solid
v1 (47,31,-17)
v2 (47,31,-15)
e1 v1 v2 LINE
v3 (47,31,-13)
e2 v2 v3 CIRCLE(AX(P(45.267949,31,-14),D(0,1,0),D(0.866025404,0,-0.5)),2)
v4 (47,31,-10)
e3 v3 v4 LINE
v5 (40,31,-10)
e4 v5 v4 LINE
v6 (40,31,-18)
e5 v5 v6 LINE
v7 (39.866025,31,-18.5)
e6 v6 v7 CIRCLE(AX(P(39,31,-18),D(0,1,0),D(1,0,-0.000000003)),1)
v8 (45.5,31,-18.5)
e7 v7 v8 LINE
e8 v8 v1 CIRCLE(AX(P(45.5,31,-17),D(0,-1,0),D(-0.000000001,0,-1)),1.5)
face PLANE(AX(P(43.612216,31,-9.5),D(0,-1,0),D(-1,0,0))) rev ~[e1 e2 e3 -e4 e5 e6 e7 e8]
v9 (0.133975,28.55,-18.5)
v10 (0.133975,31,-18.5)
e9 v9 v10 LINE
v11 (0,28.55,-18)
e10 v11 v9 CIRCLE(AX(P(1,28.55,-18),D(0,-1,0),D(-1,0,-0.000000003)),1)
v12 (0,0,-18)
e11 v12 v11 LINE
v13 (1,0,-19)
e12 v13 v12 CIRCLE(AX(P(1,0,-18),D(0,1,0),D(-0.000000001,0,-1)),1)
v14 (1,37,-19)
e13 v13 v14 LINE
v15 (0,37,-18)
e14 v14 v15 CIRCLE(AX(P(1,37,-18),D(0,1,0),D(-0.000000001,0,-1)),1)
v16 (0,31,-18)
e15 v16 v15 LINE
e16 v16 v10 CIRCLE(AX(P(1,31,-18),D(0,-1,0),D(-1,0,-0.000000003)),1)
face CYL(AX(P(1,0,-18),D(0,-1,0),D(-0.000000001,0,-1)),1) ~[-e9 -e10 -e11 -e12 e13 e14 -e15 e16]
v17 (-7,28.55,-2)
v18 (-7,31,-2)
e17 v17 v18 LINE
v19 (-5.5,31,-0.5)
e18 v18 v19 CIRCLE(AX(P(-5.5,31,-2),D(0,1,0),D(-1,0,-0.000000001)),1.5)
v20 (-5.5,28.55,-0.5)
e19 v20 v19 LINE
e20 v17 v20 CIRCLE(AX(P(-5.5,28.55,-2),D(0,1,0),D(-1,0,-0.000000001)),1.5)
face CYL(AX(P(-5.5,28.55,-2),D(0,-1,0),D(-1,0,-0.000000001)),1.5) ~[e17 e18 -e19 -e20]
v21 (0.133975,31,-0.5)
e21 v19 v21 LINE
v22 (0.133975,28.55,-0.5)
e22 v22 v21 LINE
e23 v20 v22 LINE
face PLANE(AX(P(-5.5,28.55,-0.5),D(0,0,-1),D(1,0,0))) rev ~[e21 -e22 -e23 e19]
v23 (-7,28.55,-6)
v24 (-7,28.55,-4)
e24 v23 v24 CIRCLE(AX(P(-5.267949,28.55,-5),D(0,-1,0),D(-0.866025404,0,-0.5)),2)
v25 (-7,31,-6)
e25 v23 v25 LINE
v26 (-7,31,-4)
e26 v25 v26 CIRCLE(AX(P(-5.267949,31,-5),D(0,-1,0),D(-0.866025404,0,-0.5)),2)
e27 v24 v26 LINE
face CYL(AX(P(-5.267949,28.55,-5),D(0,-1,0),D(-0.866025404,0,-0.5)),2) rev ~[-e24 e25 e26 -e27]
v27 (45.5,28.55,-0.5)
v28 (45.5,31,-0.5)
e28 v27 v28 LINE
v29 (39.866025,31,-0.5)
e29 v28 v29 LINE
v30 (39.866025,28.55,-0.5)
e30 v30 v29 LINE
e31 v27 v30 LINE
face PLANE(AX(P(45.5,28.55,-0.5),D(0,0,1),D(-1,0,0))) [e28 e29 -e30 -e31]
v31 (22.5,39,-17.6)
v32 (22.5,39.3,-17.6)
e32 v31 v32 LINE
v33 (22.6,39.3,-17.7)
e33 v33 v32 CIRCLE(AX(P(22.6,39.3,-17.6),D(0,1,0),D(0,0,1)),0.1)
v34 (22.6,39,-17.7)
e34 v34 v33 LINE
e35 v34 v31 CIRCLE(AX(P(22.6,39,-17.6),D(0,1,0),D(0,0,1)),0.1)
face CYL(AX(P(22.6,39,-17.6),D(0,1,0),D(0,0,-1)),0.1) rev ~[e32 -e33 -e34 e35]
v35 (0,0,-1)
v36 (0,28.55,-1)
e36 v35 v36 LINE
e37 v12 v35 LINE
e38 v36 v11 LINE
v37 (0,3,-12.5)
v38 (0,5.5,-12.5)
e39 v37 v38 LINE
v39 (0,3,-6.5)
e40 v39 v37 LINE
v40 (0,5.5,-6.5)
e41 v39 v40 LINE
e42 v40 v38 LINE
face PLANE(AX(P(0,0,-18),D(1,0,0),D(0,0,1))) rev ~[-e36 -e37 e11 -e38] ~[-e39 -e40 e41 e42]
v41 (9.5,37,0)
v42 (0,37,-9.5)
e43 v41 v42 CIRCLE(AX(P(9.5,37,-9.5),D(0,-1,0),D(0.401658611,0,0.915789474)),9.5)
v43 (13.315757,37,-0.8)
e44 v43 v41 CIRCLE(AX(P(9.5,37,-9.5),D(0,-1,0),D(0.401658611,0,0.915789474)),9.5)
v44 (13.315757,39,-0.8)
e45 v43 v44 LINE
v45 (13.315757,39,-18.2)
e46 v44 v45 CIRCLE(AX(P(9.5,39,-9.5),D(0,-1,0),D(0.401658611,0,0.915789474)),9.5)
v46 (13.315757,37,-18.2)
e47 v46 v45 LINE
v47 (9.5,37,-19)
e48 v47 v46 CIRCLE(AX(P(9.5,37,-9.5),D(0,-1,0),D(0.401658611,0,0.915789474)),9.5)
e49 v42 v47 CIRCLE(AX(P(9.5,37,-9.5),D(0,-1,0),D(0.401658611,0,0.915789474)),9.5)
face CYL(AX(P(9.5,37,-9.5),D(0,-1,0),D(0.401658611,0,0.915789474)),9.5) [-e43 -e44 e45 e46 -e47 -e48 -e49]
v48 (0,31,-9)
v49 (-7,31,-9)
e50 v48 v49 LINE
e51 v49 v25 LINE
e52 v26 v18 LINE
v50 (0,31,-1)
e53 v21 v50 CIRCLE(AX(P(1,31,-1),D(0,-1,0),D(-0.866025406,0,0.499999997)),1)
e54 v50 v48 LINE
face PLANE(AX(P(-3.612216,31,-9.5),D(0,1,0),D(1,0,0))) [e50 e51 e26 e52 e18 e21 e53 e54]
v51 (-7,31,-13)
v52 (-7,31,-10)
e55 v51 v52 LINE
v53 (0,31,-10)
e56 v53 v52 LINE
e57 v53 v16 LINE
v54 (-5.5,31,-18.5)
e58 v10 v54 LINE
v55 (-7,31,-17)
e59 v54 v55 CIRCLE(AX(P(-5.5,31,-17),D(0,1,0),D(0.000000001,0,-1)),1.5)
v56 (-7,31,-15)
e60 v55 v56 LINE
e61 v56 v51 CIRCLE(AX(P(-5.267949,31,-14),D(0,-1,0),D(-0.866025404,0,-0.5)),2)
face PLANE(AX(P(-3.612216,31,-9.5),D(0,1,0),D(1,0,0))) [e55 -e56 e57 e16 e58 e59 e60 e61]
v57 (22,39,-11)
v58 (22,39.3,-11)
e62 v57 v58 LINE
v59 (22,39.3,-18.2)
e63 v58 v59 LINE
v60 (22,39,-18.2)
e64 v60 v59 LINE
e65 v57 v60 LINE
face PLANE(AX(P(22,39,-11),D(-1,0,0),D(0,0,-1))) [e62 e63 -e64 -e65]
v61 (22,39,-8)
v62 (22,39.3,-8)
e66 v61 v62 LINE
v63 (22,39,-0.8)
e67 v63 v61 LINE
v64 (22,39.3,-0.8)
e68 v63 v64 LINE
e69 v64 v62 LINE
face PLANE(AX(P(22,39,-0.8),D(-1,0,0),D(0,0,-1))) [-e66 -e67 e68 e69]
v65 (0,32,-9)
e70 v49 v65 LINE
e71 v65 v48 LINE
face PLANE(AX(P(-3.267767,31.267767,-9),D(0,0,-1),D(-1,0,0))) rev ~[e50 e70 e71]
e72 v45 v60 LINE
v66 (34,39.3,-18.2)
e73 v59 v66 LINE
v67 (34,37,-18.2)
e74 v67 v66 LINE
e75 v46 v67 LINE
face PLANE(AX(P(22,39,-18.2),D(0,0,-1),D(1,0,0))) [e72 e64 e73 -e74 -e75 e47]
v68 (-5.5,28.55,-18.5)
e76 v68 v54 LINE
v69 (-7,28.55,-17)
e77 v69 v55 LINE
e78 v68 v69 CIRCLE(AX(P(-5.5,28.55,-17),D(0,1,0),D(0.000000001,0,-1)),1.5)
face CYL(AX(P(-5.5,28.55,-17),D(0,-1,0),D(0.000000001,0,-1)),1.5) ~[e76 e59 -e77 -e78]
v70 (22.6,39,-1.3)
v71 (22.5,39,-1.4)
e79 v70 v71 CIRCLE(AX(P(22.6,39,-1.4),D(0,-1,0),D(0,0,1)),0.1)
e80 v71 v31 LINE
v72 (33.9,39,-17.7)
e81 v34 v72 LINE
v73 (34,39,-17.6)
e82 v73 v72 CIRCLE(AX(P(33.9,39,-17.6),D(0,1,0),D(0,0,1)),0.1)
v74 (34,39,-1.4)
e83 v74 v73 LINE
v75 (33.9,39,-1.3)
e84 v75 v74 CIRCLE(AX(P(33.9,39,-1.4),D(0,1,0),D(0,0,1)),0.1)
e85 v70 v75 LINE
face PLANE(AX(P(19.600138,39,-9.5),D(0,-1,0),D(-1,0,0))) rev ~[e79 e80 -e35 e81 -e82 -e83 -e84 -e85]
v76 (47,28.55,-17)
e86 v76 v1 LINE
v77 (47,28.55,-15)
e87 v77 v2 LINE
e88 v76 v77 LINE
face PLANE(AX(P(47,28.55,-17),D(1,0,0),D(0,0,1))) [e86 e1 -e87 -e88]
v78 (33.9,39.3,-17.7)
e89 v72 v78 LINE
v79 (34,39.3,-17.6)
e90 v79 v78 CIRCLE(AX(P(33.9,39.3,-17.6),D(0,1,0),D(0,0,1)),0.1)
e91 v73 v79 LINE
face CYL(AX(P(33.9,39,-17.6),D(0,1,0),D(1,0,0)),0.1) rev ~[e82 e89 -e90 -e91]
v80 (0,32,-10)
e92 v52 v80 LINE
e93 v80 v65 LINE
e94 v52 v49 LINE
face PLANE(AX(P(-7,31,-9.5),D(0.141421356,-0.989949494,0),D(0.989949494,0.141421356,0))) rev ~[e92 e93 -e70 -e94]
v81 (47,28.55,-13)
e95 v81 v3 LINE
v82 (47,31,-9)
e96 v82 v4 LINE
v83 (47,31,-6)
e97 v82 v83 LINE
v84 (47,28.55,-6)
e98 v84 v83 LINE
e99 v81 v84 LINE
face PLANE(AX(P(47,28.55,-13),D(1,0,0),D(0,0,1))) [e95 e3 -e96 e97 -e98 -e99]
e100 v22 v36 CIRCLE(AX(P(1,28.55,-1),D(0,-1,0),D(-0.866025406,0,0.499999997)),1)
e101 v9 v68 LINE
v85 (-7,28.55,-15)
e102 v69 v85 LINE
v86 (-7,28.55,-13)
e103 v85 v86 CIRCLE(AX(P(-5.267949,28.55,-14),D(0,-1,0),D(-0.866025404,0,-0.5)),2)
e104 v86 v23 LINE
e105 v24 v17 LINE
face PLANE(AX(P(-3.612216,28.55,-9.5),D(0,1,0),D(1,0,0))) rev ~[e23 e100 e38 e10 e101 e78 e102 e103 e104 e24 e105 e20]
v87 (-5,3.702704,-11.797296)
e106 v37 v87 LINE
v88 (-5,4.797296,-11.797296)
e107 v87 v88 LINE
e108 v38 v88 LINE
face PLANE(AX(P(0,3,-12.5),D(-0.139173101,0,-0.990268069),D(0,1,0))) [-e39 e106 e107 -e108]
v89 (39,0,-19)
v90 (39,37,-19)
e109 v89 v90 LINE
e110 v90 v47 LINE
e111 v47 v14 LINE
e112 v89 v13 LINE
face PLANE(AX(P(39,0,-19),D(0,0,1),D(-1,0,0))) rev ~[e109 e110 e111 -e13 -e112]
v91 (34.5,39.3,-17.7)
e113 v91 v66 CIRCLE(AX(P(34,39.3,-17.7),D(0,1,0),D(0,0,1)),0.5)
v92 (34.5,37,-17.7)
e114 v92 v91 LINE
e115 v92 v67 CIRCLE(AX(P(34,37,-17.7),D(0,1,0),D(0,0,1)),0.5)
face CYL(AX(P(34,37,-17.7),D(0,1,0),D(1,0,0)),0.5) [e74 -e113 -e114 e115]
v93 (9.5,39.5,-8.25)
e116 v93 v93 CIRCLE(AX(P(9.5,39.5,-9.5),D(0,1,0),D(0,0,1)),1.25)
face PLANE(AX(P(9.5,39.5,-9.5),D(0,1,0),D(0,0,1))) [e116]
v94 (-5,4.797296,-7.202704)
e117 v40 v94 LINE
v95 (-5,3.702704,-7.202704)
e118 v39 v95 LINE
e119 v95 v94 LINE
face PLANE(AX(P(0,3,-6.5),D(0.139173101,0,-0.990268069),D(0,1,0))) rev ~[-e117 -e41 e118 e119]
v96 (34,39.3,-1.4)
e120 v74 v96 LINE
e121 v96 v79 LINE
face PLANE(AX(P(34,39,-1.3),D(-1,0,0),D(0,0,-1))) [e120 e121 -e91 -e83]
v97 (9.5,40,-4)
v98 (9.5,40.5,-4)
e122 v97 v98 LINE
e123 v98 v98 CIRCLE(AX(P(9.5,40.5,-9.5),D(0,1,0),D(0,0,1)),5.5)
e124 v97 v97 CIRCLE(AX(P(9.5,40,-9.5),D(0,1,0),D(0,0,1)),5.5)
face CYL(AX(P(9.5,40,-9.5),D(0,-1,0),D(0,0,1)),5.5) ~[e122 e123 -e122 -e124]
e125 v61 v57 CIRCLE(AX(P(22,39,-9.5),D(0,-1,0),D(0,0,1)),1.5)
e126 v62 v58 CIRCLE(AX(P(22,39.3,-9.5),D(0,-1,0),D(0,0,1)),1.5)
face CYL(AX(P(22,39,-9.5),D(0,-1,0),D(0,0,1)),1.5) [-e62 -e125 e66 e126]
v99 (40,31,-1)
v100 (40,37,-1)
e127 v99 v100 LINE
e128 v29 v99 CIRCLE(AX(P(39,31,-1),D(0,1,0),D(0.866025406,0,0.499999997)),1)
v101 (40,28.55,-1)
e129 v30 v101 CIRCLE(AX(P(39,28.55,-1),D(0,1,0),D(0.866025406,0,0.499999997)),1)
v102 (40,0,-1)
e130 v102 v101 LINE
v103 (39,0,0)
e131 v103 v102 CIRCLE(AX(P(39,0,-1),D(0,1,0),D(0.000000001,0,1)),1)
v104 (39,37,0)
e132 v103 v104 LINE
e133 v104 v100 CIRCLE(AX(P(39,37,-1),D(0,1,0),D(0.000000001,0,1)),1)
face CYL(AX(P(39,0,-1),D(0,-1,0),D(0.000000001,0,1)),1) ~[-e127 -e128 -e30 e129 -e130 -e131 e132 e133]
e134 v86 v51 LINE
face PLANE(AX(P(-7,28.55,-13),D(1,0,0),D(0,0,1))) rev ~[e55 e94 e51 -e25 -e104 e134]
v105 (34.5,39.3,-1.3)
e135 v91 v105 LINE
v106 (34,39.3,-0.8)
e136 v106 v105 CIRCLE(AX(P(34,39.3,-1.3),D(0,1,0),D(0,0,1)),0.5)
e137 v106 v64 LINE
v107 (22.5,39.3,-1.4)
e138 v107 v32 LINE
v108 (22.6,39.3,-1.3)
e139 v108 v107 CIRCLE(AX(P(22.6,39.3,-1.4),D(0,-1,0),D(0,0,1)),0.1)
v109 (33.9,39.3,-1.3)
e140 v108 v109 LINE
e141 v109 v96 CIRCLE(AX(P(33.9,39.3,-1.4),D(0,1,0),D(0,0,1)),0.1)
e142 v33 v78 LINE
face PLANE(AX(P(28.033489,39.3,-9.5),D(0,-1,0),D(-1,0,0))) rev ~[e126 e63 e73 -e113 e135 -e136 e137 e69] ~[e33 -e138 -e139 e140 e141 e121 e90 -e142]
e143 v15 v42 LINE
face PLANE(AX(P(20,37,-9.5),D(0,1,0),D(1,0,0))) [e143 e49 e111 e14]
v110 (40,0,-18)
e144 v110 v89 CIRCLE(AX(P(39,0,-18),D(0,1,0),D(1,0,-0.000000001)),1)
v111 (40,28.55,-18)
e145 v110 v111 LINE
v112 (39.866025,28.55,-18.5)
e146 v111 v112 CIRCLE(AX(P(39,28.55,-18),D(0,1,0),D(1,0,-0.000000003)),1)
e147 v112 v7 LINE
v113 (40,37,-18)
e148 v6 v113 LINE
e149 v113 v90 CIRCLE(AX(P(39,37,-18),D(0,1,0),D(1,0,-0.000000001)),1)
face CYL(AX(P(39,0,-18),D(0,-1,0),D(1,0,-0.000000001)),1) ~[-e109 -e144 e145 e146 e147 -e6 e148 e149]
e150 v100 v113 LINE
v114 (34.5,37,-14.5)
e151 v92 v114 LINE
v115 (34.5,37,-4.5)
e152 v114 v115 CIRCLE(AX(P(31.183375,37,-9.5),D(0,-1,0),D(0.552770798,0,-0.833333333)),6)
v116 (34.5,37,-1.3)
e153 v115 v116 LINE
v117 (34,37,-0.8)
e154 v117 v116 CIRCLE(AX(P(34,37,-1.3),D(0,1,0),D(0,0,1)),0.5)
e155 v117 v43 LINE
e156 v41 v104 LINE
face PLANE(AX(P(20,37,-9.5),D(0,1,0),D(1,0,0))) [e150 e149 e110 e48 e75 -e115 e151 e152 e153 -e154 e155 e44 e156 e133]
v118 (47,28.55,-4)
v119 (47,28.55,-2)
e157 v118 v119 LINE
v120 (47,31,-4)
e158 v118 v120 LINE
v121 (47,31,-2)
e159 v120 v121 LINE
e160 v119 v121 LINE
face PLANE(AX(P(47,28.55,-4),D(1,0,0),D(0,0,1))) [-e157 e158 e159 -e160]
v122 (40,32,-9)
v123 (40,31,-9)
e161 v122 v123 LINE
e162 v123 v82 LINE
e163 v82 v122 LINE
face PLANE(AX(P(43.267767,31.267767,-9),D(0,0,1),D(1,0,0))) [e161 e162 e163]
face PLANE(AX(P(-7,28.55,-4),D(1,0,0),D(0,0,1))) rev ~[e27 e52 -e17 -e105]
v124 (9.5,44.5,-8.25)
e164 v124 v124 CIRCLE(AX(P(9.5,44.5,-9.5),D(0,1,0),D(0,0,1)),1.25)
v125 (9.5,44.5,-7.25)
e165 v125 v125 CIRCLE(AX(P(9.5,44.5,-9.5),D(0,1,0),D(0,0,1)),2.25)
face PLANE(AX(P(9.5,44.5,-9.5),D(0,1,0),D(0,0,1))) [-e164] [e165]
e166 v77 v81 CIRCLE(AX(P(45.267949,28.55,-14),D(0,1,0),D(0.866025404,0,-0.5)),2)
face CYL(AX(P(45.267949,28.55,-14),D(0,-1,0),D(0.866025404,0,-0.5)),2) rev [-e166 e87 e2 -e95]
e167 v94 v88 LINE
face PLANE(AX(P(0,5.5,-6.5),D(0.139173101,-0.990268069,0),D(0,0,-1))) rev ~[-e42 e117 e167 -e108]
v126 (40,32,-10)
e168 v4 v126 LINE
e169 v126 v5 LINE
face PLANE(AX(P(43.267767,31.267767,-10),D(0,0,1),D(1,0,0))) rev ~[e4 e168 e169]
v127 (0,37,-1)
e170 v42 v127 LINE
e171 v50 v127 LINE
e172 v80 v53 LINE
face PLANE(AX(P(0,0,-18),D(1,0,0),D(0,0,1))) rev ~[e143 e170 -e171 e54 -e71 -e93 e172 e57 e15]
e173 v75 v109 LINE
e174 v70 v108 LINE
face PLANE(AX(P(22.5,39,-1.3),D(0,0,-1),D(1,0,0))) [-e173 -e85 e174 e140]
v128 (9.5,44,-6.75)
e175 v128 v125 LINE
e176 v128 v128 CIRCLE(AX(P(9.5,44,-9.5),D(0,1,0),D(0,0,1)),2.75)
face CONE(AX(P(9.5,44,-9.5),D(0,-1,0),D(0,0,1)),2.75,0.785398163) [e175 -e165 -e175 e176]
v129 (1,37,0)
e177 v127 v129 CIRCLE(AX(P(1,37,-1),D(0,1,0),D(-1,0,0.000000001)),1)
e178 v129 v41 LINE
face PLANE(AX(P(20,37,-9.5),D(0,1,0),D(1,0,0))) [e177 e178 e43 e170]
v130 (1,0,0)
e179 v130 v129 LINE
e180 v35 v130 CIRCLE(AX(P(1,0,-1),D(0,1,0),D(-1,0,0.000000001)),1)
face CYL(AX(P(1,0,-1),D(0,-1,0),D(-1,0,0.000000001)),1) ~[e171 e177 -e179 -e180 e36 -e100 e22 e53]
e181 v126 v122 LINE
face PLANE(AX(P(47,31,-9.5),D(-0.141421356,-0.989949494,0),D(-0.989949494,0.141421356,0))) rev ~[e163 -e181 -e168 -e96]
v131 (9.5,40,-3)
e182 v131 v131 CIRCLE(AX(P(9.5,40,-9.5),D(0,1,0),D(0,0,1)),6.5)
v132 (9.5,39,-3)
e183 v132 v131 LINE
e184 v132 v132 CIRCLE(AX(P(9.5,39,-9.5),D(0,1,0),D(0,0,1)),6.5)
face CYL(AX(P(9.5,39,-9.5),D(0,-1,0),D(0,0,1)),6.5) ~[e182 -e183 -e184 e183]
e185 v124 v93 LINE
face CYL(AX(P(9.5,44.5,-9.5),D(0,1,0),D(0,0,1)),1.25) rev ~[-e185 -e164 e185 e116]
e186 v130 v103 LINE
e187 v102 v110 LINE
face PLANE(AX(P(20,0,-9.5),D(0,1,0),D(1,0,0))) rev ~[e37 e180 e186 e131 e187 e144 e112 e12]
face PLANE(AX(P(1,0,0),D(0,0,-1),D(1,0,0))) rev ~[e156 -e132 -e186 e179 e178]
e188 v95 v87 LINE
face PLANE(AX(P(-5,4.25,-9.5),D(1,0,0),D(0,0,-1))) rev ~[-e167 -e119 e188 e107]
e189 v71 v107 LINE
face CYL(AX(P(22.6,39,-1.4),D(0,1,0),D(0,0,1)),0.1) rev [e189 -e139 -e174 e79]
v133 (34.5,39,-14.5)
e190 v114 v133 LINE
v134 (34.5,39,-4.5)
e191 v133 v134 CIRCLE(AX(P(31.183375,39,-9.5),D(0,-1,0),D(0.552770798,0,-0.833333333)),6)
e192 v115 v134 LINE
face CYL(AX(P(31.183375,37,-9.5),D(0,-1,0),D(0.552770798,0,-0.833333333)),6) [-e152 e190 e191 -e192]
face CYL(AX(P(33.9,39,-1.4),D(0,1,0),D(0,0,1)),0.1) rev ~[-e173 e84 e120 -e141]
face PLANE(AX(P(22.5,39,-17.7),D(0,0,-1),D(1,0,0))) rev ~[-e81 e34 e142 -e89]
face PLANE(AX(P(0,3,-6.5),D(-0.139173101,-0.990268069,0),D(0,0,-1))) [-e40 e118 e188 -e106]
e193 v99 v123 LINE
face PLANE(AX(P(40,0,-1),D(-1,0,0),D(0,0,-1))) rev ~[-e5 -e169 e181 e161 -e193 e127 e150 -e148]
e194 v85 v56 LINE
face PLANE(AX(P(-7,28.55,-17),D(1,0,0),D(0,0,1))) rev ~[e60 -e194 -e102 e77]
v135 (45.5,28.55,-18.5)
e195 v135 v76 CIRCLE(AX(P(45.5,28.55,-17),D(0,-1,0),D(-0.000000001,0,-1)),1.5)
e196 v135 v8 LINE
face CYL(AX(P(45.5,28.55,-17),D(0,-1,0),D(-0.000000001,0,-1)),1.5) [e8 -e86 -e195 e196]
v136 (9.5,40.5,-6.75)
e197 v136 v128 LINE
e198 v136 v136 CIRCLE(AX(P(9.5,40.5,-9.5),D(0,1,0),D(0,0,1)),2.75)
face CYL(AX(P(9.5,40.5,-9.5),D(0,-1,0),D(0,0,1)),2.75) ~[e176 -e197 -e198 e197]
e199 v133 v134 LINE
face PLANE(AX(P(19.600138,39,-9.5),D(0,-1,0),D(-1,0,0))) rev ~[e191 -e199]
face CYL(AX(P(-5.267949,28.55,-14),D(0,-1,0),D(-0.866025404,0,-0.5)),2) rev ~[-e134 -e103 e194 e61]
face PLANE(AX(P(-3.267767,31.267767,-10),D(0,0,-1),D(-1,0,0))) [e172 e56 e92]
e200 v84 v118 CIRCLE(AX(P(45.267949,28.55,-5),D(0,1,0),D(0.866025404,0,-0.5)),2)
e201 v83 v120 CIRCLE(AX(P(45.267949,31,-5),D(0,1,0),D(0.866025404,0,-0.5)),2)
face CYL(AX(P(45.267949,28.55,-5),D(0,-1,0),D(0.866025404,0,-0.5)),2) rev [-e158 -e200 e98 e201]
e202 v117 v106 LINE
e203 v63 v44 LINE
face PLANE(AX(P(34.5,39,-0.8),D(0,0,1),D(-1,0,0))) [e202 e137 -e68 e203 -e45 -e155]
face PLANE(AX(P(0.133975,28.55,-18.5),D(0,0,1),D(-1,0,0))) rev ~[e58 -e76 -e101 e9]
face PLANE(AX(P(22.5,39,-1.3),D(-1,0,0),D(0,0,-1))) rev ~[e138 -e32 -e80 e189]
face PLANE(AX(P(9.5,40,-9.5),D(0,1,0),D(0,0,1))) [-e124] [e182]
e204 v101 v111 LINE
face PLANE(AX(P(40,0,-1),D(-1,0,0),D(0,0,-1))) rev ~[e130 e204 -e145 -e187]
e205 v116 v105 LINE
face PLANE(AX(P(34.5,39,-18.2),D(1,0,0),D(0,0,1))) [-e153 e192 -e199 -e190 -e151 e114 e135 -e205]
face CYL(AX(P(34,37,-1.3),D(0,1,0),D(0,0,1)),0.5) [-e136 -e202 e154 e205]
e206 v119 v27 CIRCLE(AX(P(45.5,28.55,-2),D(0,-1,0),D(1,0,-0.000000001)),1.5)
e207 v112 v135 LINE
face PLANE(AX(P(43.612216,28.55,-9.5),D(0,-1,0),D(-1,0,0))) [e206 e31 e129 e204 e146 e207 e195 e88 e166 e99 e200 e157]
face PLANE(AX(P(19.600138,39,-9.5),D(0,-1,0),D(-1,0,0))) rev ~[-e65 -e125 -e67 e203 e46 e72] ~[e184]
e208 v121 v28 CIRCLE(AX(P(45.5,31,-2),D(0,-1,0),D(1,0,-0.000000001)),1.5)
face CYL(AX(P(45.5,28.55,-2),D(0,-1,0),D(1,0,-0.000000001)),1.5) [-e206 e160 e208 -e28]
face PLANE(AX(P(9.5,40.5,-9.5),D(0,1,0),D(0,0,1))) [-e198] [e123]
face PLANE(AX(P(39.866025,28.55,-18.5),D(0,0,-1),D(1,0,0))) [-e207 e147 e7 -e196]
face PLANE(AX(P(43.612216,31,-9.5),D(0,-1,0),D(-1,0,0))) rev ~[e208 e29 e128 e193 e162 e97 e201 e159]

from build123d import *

# Parameters (mm, degrees)
SALIENTE_EXTRUIR1_DEPTH = 37
SALIENTE_EXTRUIR2_DEPTH = 2
CROQUIS3_R              = 6.5
SALIENTE_EXTRUIR3_DEPTH = 1
CROQUIS4_R              = 5.5
SALIENTE_EXTRUIR4_DEPTH = 0.5
CROQUIS5_R              = 2.75
SALIENTE_EXTRUIR5_DEPTH = 4
CROQUIS7_W              = 11.5
CROQUIS7_H              = 16.4
SALIENTE_EXTRUIR6_DEPTH = 0.3
REDONDEO1_R             = 0.1
REDONDEO2_R             = 0.5
SALIENTE_EXTRUIR7_START = -8.45
SALIENTE_EXTRUIR7_DEPTH = 2.45
SALIENTE_EXTRUIR8_DEPTH = 0.5
CROQUIS11_W             = 6
CROQUIS11_H             = 2.5
SALIENTE_EXTRUIR9_DEPTH = 5
SALIENTE_EXTRUIR9_DRAFT = -8
CROQUIS12_R             = 1.25
CORTAR_EXTRUIR1_DEPTH   = 5
CHAFL_N1_SIZE           = 0.5


with BuildPart() as part:
    # Croquis1 → Saliente-Extruir1 (new body)
    with BuildSketch(Plane(origin=(0, 0, 0), x_dir=(1, 0, 0), z_dir=(0, 1, 0))):
        with BuildLine():
            Line((1, 0), (39, 0))
            ThreePointArc((39, 0), (39.707106781, 0.292893219), (40, 1))
            Line((40, 1), (40, 18))
            ThreePointArc((40, 18), (39.707106781, 18.707106781), (39, 19))
            Line((39, 19), (1, 19))
            ThreePointArc((1, 19), (0.292893219, 18.707106781), (0, 18))
            Line((0, 18), (0, 1))
            ThreePointArc((0, 1), (0.292893219, 0.292893219), (1, 0))
        make_face()
    extrude(amount=SALIENTE_EXTRUIR1_DEPTH)

    # Croquis2 → Saliente-Extruir2 (add)
    with BuildSketch(Plane(origin=(0, 37, 0), x_dir=(1, 0, 0), z_dir=(0, 1, 0))):
        with BuildLine():
            Line((13.315756806, 18.2), (34.5, 18.2))
            Line((34.5, 18.2), (34.5, 14.5))
            ThreePointArc((34.5, 14.5), (37.18337521, 9.5), (34.5, 4.5))
            Line((34.5, 4.5), (34.5, 0.8))
            Line((34.5, 0.8), (13.315756806, 0.8))
            ThreePointArc((13.315756806, 0.8), (0, 9.5), (13.315756806, 18.2))
        make_face()
    extrude(amount=SALIENTE_EXTRUIR2_DEPTH)

    # Croquis3 → Saliente-Extruir3 (add)
    with BuildSketch(Plane(origin=(0, 39, 0), x_dir=(1, 0, 0), z_dir=(0, 1, 0))):
        with Locations(Location((9.5, 9.5, 0), (0, 0, 270))):
            Circle(CROQUIS3_R)
    extrude(amount=SALIENTE_EXTRUIR3_DEPTH)

    # Croquis4 → Saliente-Extruir4 (add)
    with BuildSketch(Plane(origin=(0, 40, 0), x_dir=(1, 0, 0), z_dir=(0, 1, 0))):
        with Locations(Location((9.5, 9.5, 0), (0, 0, 270))):
            Circle(CROQUIS4_R)
    extrude(amount=SALIENTE_EXTRUIR4_DEPTH)

    # Croquis5 → Saliente-Extruir5 (add)
    with BuildSketch(Plane(origin=(0, 40.5, 0), x_dir=(1, 0, 0), z_dir=(0, 1, 0))):
        with Locations(Location((9.5, 9.5, 0), (0, 0, 270))):
            Circle(CROQUIS5_R)
    extrude(amount=SALIENTE_EXTRUIR5_DEPTH)

    # Croquis7 → Saliente-Extruir6 (add)
    with BuildSketch(Plane(origin=(0, 39, 0), x_dir=(1, 0, 0), z_dir=(0, 1, 0))):
        with BuildLine():
            Line((34.5, 0.8), (22, 0.8))
            Line((22, 0.8), (22, 8))
            ThreePointArc((22, 8), (20.5, 9.5), (22, 11))
            Line((22, 11), (22, 18.2))
            Line((22, 18.2), (34.5, 18.2))
            Line((34.5, 18.2), (34.5, 0.8))
        make_face()
        with Locations((28.25, 9.5)):
            Rectangle(CROQUIS7_W, CROQUIS7_H, mode=Mode.SUBTRACT)
    extrude(amount=SALIENTE_EXTRUIR6_DEPTH)

    # Redondeo1
    redondeo1_edges = [part.edges().sort_by_distance(p)[0] for p in [
        (34, 39.15, -1.3),
        (34, 39.15, -17.7),
        (22.5, 39.15, -17.7),
        (22.5, 39.15, -1.3),
    ]]
    fillet(redondeo1_edges, radius=REDONDEO1_R)

    # Redondeo2
    redondeo2_edges = [part.edges().sort_by_distance(p)[0] for p in [
        (34.5, 38.15, -0.8),
        (34.5, 38.15, -18.2),
    ]]
    fillet(redondeo2_edges, radius=REDONDEO2_R)

    # Croquis8 → Saliente-Extruir7 (add)
    with BuildSketch(Plane(origin=(0, 37, 0), x_dir=(1, 0, 0), z_dir=(0, 1, 0)).offset(SALIENTE_EXTRUIR7_START)):
        with BuildLine():
            Line((40, 1), (40, 18))
            ThreePointArc((40, 18), (39.965925826, 18.258819045), (39.866025404, 18.5))
            Line((39.866025404, 18.5), (45.5, 18.5))
            ThreePointArc((45.5, 18.5), (46.560660172, 18.060660172), (47, 17))
            Line((47, 17), (47, 15))
            ThreePointArc((47, 15), (43.267949192, 14), (47, 13))
            Line((47, 13), (47, 6))
            ThreePointArc((47, 6), (43.267949192, 5), (47, 4))
            Line((47, 4), (47, 2))
            ThreePointArc((47, 2), (46.560660172, 0.939339828), (45.5, 0.5))
            Line((45.5, 0.5), (39.866025404, 0.5))
            ThreePointArc((39.866025404, 0.5), (39.965925826, 0.741180955), (40, 1))
        make_face()
        with BuildLine():
            Line((-7, 17), (-7, 15))
            ThreePointArc((-7, 15), (-3.267949192, 14), (-7, 13))
            Line((-7, 13), (-7, 6))
            ThreePointArc((-7, 6), (-3.267949192, 5), (-7, 4))
            Line((-7, 4), (-7, 2))
            ThreePointArc((-7, 2), (-6.560660172, 0.939339828), (-5.5, 0.5))
            Line((-5.5, 0.5), (0.133974596, 0.5))
            ThreePointArc((0.133974596, 0.5), (0.034074174, 0.741180955), (0, 1))
            Line((0, 1), (0, 18))
            ThreePointArc((0, 18), (0.034074174, 18.258819045), (0.133974596, 18.5))
            Line((0.133974596, 18.5), (-5.5, 18.5))
            ThreePointArc((-5.5, 18.5), (-6.560660172, 18.060660172), (-7, 17))
        make_face()
    extrude(amount=SALIENTE_EXTRUIR7_DEPTH)

    # Croquis10 → Saliente-Extruir8 (add, symmetric)
    with BuildSketch(Plane.XY.offset(-9.5)):
        Polygon((47, 31), (40, 32), (40, 31), align=None)
        Polygon((0, 32), (0, 31), (-7, 31), align=None)
    extrude(amount=SALIENTE_EXTRUIR8_DEPTH, both=True)


with BuildPart() as saliente_extruir9_tool:
    # Croquis11 → Saliente-Extruir9 (with draft: the straight prism first)
    with BuildSketch(Plane(origin=(0, 0, 0), x_dir=(0, 0, -1), z_dir=(1, 0, 0))):
        with Locations((9.5, 4.25)):
            Rectangle(CROQUIS11_W, CROQUIS11_H)
    extrude(amount=-SALIENTE_EXTRUIR9_DEPTH)
    # Saliente-Extruir9: the draft: its side faces are tilted about the plane it starts from
    saliente_extruir9_sides = [saliente_extruir9_tool.faces().sort_by_distance(p)[0] for p in [
        (-2.5, 4.25, -6.5),
        (-2.5, 3, -9.5),
        (-2.5, 4.25, -12.5),
        (-2.5, 5.5, -9.5),
    ]]
    draft(saliente_extruir9_sides, Plane(origin=(0, 0, 0), x_dir=(0, 0, -1), z_dir=(1, 0, 0)), SALIENTE_EXTRUIR9_DRAFT)


with BuildPart() as part_1:
    add(part.part)

    # Saliente-Extruir9: add saliente_extruir9_tool
    add(saliente_extruir9_tool.part)

    # Croquis12 → Cortar-Extruir1 (cut)
    with BuildSketch(Plane(origin=(0, 44.5, 0), x_dir=(1, 0, 0), z_dir=(0, 1, 0))):
        with Locations(Location((9.5, 9.5, 0), (0, 0, 270))):
            Circle(CROQUIS12_R)
    extrude(amount=-CORTAR_EXTRUIR1_DEPTH, mode=Mode.SUBTRACT)

    # Chaflán1
    chafl_n1_edges = [part_1.edges().sort_by_distance(p)[0] for p in [
        (9.5, 44.5, -12.25),
    ]]
    chamfer(chafl_n1_edges, length=CHAFL_N1_SIZE)


solid = part_1.part
